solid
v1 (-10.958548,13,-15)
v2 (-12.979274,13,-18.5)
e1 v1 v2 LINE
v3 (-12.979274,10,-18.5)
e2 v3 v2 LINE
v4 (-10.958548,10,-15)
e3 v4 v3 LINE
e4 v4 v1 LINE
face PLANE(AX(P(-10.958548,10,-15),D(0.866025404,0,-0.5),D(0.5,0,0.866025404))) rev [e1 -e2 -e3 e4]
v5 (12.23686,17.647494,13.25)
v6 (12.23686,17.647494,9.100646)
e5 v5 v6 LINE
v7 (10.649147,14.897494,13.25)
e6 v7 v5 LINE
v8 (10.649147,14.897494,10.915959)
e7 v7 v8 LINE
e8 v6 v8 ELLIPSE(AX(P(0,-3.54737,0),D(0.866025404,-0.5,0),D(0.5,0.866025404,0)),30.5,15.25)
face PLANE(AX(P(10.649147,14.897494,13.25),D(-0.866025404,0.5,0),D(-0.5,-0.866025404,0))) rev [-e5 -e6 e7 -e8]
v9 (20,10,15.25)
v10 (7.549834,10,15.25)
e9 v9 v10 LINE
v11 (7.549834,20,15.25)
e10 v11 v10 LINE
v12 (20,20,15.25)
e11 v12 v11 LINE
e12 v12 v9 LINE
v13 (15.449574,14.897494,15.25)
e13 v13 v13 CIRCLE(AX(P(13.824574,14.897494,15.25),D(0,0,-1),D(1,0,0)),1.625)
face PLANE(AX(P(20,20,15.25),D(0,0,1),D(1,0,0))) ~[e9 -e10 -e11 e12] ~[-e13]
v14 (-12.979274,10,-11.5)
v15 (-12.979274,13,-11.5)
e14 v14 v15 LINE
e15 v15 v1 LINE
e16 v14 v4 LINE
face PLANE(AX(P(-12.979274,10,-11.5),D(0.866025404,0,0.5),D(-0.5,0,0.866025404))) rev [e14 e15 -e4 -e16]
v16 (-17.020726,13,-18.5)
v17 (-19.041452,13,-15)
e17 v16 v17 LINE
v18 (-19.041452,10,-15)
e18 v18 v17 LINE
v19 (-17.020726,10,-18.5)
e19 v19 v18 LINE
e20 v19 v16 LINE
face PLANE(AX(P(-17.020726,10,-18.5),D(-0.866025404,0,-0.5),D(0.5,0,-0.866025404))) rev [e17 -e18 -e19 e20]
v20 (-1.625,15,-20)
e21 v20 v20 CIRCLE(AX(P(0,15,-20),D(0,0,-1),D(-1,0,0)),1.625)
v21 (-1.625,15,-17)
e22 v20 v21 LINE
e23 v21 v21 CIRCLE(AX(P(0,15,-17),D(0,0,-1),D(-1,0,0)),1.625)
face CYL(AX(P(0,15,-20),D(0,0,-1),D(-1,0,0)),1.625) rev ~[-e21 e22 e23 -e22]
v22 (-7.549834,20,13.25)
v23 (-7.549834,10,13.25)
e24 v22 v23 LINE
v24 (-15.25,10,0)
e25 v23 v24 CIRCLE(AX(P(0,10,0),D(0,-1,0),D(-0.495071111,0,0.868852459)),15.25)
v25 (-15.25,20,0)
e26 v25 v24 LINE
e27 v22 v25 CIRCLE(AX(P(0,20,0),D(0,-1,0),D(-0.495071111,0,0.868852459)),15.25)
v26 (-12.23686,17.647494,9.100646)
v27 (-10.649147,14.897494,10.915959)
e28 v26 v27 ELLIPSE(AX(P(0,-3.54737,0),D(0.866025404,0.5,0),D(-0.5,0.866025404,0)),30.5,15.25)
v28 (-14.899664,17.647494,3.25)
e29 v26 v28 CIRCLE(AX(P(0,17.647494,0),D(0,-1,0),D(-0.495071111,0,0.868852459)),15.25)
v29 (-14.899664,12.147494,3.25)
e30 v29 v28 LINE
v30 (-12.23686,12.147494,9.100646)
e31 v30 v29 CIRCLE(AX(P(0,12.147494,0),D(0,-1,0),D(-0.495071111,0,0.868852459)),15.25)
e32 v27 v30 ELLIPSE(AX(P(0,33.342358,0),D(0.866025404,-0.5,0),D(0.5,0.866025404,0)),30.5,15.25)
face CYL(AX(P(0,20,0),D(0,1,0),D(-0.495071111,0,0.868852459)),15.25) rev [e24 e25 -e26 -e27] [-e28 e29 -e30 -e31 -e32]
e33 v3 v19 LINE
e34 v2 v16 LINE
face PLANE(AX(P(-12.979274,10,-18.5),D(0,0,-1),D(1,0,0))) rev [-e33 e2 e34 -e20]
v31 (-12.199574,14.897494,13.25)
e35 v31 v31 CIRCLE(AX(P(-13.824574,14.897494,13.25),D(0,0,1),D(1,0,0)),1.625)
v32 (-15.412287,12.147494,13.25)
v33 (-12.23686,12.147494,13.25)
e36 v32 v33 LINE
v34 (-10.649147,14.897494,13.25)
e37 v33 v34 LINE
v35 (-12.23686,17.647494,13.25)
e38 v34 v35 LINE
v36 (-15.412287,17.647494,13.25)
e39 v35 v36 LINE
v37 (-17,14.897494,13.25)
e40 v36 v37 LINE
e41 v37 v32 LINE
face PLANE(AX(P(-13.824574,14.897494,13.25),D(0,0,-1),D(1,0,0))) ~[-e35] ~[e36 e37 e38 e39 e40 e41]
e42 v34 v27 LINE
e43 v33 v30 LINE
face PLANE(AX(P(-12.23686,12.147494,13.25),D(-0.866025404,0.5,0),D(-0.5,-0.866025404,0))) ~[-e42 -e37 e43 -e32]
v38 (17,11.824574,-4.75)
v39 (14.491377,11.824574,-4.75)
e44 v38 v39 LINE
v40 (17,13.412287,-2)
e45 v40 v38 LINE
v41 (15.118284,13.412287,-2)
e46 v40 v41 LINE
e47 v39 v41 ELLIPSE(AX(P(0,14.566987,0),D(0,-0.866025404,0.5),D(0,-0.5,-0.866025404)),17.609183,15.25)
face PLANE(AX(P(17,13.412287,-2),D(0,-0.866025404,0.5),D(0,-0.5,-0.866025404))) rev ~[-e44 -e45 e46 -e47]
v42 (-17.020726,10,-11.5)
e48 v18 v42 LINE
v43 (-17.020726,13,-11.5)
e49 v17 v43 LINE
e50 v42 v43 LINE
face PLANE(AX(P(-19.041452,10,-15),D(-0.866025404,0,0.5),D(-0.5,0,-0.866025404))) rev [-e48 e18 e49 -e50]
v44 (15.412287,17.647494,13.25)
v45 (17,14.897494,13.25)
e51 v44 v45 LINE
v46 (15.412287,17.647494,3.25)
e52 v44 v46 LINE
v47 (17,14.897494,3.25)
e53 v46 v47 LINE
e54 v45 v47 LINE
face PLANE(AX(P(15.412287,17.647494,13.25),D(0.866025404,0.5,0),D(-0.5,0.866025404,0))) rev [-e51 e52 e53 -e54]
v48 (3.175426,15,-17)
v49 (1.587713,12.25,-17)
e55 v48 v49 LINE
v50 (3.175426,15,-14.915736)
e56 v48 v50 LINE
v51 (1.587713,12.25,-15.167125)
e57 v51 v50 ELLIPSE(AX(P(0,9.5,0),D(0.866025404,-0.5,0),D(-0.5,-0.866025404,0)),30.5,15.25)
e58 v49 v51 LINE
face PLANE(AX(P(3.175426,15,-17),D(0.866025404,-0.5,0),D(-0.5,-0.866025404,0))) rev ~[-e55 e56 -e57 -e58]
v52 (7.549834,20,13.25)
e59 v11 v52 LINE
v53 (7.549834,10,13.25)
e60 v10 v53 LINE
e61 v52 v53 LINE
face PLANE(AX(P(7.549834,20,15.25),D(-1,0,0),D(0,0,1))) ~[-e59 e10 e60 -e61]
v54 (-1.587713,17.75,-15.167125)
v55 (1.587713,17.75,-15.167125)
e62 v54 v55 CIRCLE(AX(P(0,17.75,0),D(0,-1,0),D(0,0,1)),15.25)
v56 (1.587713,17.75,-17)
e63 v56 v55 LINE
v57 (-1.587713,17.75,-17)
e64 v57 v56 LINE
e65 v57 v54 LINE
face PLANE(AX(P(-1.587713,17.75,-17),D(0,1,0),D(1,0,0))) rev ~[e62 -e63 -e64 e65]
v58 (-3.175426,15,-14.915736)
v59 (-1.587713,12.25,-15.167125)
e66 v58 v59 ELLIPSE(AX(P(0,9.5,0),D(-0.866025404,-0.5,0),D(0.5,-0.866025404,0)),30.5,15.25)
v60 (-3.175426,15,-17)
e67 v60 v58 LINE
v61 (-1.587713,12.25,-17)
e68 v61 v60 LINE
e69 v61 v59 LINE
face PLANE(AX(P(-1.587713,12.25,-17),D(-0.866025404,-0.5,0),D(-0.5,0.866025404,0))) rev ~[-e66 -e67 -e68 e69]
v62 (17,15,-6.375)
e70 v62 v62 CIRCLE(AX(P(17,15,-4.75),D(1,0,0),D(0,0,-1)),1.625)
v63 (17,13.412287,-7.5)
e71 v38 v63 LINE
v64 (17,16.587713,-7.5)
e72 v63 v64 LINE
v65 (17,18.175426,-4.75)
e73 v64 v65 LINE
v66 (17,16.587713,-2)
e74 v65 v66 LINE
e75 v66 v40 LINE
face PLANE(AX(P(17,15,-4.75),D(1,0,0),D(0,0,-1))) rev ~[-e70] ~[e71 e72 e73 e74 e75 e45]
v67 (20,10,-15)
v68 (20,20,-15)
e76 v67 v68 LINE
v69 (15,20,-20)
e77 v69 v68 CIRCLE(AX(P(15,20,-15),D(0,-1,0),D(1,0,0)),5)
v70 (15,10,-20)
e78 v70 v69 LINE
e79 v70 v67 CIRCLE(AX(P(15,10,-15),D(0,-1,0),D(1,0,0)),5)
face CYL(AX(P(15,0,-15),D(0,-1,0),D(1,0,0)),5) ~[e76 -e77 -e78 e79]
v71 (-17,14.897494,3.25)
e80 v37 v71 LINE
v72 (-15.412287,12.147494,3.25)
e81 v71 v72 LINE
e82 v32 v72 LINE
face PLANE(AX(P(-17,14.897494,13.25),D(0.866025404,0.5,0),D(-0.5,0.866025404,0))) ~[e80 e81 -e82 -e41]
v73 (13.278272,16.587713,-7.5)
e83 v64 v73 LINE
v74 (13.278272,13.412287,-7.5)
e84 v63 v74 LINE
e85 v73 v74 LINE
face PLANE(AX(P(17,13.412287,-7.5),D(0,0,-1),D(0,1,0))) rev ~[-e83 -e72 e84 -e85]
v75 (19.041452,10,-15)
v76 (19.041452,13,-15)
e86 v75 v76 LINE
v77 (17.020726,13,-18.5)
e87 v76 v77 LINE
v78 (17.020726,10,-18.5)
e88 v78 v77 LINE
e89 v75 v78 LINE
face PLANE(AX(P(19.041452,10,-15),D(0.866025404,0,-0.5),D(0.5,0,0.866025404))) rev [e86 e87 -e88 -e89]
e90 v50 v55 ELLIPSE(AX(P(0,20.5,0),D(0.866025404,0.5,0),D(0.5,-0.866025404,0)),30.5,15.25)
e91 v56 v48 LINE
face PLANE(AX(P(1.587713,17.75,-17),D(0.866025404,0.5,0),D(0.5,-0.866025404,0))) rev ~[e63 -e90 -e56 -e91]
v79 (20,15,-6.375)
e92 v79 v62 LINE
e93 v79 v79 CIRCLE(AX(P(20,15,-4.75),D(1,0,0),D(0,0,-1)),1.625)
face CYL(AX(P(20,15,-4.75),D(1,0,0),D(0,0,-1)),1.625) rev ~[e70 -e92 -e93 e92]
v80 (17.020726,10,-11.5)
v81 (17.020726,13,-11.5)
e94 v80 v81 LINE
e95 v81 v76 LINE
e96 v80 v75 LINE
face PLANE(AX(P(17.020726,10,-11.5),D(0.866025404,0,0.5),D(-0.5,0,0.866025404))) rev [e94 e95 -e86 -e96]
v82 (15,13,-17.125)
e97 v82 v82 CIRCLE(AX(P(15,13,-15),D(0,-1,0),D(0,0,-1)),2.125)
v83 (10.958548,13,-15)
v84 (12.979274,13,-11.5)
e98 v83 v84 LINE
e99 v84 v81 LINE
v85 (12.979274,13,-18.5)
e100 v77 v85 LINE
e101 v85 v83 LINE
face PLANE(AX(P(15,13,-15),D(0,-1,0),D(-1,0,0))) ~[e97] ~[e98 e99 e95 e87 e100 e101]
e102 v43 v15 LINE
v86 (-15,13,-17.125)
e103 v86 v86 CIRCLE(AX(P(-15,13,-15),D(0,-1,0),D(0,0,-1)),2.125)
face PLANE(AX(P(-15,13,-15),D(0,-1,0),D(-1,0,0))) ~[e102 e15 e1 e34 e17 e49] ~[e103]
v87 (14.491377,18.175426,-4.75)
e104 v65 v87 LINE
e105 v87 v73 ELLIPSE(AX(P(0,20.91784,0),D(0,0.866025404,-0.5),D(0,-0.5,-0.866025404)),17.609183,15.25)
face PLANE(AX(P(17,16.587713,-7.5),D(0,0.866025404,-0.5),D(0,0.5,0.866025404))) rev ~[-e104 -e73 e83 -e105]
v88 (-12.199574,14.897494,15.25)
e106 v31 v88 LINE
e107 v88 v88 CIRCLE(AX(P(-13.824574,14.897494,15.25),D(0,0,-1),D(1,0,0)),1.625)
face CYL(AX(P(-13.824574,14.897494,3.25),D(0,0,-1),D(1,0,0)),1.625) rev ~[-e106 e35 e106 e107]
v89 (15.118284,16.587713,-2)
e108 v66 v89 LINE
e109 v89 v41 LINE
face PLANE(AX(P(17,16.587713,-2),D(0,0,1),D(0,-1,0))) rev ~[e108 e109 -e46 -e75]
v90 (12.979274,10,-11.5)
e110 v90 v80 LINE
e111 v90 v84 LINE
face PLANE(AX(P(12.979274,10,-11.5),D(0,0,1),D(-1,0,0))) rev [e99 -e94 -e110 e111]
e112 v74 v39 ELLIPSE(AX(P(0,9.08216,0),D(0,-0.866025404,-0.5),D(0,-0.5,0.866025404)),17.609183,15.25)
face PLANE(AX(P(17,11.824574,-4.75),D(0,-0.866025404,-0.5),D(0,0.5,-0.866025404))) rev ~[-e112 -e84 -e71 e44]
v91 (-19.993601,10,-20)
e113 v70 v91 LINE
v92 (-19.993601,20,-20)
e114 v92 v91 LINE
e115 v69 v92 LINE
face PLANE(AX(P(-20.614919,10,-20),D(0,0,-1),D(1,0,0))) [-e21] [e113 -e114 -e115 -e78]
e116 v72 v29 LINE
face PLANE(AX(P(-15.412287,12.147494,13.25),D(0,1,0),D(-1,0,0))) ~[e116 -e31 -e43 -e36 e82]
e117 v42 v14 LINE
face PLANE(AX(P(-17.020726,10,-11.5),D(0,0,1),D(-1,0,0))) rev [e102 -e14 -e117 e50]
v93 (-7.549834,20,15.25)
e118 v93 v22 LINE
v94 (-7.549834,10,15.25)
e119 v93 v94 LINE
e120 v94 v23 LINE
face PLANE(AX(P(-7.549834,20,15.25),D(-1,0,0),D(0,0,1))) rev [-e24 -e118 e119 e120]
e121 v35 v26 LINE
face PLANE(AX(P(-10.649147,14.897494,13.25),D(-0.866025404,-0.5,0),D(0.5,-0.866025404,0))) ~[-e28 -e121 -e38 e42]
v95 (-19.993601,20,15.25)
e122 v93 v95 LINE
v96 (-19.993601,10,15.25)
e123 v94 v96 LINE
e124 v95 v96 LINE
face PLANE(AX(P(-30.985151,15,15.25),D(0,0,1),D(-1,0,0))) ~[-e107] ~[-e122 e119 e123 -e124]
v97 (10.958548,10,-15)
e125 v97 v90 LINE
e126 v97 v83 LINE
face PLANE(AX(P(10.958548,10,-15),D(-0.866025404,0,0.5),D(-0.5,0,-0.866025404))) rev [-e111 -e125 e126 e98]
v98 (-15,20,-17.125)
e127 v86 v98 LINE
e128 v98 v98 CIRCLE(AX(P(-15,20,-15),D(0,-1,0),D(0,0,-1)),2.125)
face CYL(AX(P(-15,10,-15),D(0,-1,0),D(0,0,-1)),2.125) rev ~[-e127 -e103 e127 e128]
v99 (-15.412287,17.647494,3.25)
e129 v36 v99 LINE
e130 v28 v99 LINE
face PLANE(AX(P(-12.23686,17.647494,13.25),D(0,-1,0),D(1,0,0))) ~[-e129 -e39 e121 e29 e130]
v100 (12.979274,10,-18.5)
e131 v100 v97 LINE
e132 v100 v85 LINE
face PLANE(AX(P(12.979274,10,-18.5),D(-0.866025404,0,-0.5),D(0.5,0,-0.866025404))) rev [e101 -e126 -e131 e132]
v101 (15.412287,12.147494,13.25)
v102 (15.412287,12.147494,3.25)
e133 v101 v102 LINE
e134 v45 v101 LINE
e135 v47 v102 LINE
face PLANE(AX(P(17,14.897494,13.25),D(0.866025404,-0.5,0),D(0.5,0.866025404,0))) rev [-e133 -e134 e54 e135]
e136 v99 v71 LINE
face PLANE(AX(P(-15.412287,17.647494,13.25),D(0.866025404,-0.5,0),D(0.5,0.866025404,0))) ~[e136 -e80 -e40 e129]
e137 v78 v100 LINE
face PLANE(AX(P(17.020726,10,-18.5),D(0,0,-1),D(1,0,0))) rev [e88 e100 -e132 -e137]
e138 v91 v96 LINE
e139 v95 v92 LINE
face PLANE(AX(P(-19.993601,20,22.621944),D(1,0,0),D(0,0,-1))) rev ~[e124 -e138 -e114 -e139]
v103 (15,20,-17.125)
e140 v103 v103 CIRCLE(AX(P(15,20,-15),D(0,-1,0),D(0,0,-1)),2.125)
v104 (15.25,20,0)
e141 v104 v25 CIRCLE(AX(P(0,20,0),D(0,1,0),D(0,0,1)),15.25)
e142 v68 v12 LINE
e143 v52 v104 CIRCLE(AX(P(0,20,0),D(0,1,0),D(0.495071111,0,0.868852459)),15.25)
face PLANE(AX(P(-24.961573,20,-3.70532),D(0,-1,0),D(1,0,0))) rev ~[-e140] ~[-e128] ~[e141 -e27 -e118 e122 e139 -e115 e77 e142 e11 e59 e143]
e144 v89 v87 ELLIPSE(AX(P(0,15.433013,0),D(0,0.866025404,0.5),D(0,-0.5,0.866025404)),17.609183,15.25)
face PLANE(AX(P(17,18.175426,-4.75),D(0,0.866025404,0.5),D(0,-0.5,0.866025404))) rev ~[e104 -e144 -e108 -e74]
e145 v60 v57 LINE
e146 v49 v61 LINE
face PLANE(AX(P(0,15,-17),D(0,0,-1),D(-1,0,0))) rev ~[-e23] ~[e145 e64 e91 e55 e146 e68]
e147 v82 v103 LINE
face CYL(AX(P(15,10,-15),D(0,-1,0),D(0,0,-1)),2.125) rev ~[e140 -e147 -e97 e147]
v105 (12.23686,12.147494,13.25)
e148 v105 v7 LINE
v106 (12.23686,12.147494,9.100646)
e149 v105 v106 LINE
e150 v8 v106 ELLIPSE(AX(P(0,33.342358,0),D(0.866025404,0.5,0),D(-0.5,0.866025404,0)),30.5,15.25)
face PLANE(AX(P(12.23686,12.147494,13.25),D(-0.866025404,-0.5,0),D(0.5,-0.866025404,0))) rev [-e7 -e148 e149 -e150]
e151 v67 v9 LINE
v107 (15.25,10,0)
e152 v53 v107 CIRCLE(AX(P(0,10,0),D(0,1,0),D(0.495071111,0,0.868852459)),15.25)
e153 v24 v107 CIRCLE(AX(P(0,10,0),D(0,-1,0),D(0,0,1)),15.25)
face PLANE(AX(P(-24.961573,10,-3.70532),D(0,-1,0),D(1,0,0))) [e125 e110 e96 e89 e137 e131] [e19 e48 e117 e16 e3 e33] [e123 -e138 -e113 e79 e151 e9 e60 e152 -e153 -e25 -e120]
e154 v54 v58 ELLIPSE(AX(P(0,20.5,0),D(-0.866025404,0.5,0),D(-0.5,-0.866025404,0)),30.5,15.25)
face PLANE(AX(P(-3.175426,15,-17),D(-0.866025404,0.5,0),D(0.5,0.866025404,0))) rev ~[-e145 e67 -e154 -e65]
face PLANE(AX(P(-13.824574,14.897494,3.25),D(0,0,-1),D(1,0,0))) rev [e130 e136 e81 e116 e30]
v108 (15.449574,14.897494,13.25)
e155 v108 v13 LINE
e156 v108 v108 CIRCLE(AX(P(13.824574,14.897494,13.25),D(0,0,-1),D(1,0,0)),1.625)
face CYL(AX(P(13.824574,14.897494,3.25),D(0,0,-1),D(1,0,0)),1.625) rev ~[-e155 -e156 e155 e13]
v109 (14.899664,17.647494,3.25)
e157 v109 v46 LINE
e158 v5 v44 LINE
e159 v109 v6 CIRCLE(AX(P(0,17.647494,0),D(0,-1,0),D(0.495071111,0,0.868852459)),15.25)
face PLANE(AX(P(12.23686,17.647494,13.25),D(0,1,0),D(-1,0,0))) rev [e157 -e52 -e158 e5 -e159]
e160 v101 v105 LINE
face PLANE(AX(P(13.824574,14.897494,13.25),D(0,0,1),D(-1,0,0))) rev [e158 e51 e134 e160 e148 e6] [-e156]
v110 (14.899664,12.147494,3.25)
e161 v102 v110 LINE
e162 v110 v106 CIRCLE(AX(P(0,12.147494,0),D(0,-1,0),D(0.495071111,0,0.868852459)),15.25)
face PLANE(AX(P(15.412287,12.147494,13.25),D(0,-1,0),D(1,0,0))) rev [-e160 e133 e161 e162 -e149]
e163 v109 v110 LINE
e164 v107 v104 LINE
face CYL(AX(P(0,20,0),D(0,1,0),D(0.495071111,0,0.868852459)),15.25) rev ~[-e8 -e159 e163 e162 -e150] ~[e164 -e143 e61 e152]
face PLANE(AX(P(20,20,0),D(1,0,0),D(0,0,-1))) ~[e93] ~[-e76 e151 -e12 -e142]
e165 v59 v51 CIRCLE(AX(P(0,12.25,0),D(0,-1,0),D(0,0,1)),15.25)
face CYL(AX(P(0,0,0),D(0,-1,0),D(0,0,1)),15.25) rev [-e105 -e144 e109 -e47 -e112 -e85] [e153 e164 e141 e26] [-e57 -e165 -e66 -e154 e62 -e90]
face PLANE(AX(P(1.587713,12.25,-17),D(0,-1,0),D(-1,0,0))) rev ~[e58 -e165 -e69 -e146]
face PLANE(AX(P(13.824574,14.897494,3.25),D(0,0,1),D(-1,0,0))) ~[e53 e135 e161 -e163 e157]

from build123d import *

# Parameters (mm, degrees)
CROQUIS1_R                              = 15.25
CROQUIS1_R_2                            = 2.125
SOPORTE_CAJA_REDUCTORA_DEPTH            = 20
CROQUIS3_R                              = 2.125
CORTAR_EXTRUIR1_DEPTH                   = 51.423828692
REDONDEO1_R                             = 5
BOSS_EXTRUDE1_DEPTH                     = 20
CUT_EXTRUDE1_REACH                      = 55.852
SKETCH2_R                               = 1.625
CUT_EXTRUDE2_DEPTH                      = 2
SKETCH4_R                               = 1.625
CUT_EXTRUDE3_DEPTH                      = 63.291652731
CUT_EXTRUDE4_START                      = -4.5
CUT_EXTRUDE4_DEPTH                      = 2
CROQUIS6_W                              = 4.75
CROQUIS6_H                              = 4.75
CORTAR_EXTRUIR17_DEPTH                  = 42.231056256
CROQUIS7_W                              = 60
CROQUIS7_H                              = 20
CORTAR_EXTRUIR18_DEPTH                  = 51.423828692
SALIENTE_EXTRUIR2_DEPTH                 = 49
SOPORTE_START                           = -15
SOPORTE_MOTOR_DEPTH                     = 15
CROQUIS12_R                             = 2.125
AGUJEROS_DE_SUJECION_A_BASE_DEPTH       = 84.087679592
TUERCA_START                            = -4
TUERCA_AGUJERO_DE_SUJECION_A_BASE_DEPTH = 10
SALIENTE_EXTRUIR4_DEPTH                 = 15
CORTAR_EXTRUIR19_DEPTH                  = 25
CROQUIS14_W                             = 50
CROQUIS14_H                             = 118
CORTAR_EXTRUIR22_DEPTH                  = 146.556045907
CROQUIS15_W                             = 10
CROQUIS15_H                             = 7
CORTAR_EXTRUIR23_DEPTH                  = 42.231056256
CORTAR_EXTRUIR24_DEPTH                  = 42.231056256
CROQUIS18_W                             = 40
CROQUIS18_H                             = 10
CORTAR_EXTRUIR25_DEPTH                  = 44.27311521
SALIENTE_EXTRUIR5_DEPTH                 = 10
CROQUIS20_R                             = 1
CORTAR_EXTRUIR26_DEPTH                  = 49.229270158
CORTAR_EXTRUIR27_REACH                  = 62.959
CORTAR_EXTRUIR27_END_RADIUS             = 15.25
CROQUIS21_R                             = 1.625
CROQUIS22_R                             = 2.125
CROQUIS22_R_2                           = 1
SALIENTE_EXTRUIR6_DEPTH                 = 10
CROQUIS23_R                             = 1.625
CORTAR_EXTRUIR28_DEPTH                  = 52.269508521
CORTAR_EXTRUIR29_START                  = -3
CORTAR_EXTRUIR29_DEPTH                  = 10
SALIENTE_EXTRUIR7_DEPTH                 = 10
CORTAR_EXTRUIR30_REACH                  = 72.235
CROQUIS27_R                             = 1.625
CORTAR_EXTRUIR31_REACH                  = 75.235
CORTAR_EXTRUIR31_START                  = -3
CORTAR_EXTRUIR32_REACH                  = 58.612
CROQUIS29_R                             = 1.625
CORTAR_EXTRUIR33_REACH                  = 61.112
CORTAR_EXTRUIR33_START                  = -2.5
CROQUIS35_W                             = 13.305418987
CROQUIS35_H                             = 6.826864192
CORTAR_EXTRUIR34_DEPTH                  = 63.931555098
CORTAR_EXTRUIR34_DEPTH_BACK             = 63.931555098
CORTAR_EXTRUIR35_START                  = -3
CORTAR_EXTRUIR35_DEPTH                  = 10
SALIENTE_EXTRUIR8_DEPTH                 = 10
SALIENTE_EXTRUIR9_DEPTH                 = 13
SALIENTE_EXTRUIR10_DEPTH                = 3
CROQUIS40_W                             = 106.583537839
CROQUIS40_H                             = 47.391515964
CORTAR_EXTRUIR36_DEPTH                  = 80.887064817
CORTAR_EXTRUIR36_DEPTH_BACK             = 80.887064817
CORTAR_EXTRUIR37_DEPTH                  = 67.2524009
CORTAR_EXTRUIR37_DEPTH_BACK             = 67.2524009
CORTAR_EXTRUIR38_DEPTH                  = 79.704784639
CORTAR_EXTRUIR38_DEPTH_BACK             = 79.704784639
SALIENTE_EXTRUIR11_DEPTH                = 10
CORTAR_EXTRUIR39_DEPTH                  = 63.9908649
CROQUIS45_W                             = 31.470301378
CROQUIS45_H                             = 10
CROQUIS45_R                             = 1.625
SALIENTE_EXTRUIR12_DEPTH                = 2.5
SALIENTE_EXTRUIR13_DEPTH                = 10
CORTAR_EXTRUIR40_START                  = -2
CROQUIS47_R                             = 1.625
CORTAR_EXTRUIR40_DEPTH                  = 10
CORTAR_EXTRUIR41_START                  = -12
CROQUIS48_R                             = 1.625
CORTAR_EXTRUIR41_DEPTH                  = 12
CORTAR_EXTRUIR42_DEPTH                  = 3
CROQUIS50_W                             = 80.415439526
CROQUIS50_H                             = 16.145703155
CORTAR_EXTRUIR43_DEPTH                  = 66.767385996
CORTAR_EXTRUIR43_DEPTH_BACK             = 66.767385996
CROQUIS51_R                             = 2.125
CORTAR_EXTRUIR44_DEPTH                  = 52.795622989
CORTAR_EXTRUIR44_DEPTH_BACK             = 52.795622989
CORTAR_EXTRUIR45_DEPTH                  = 52.795622989
CORTAR_EXTRUIR45_DEPTH_BACK             = 52.795622989
SALIENTE_EXTRUIR14_DEPTH                = 10
CORTAR_EXTRUIR46_START                  = -24.591895
CORTAR_EXTRUIR46_DEPTH                  = 17.091895
CROQUIS55_W                             = 24.668528906
CROQUIS55_H                             = 42.621944376
CORTAR_EXTRUIR47_DEPTH                  = 42.681058385
CORTAR_EXTRUIR47_DEPTH_BACK             = 42.681058385


with BuildPart() as part:
    # Croquis1 → Soporte caja reductora (new body)
    with BuildSketch(Plane(origin=(0, 0, 0), x_dir=(1, 0, 0), z_dir=(0, 1, 0))):
        Polygon((-30, -15.25), (-20, -15.25), (-20, -20), (20, -20), (20, -15.25), (30, -15.25), (30, -7.25), (20, -4.25), (20, 20), (-20, 20), (-20, -4.25), (-30, -7.25), align=None)
        with Locations(Location((0, 0, 0), (0, 0, 270))):
            Circle(CROQUIS1_R, mode=Mode.SUBTRACT)
        with Locations(Location((-15, 15, 0), (0, 0, 270))):
            Circle(CROQUIS1_R_2, mode=Mode.SUBTRACT)
        with Locations(Location((15, 15, 0), (0, 0, 270))):
            Circle(CROQUIS1_R_2, mode=Mode.SUBTRACT)
    extrude(amount=-SOPORTE_CAJA_REDUCTORA_DEPTH)

    # Croquis3 → Cortar-Extruir1 (cut, through all)
    with BuildSketch(Plane.XY.offset(15.25)):
        with Locations((-23.5, -10)):
            Circle(CROQUIS3_R)
        with Locations((23.5, -10)):
            Circle(CROQUIS3_R)
    extrude(amount=-CORTAR_EXTRUIR1_DEPTH, mode=Mode.SUBTRACT)

    # Redondeo1
    redondeo1_edges = [part.edges().sort_by_distance(p)[0] for p in [
        (-20, -10, -20),
        (20, -10, -20),
    ]]
    fillet(redondeo1_edges, radius=REDONDEO1_R)

    # Sketch1 → Boss-Extrude1 (add)
    with BuildSketch(Plane(origin=(0, 0, 0), x_dir=(1, 0, 0), z_dir=(0, 1, 0))):
        with BuildLine():
            Line((25.5, 15), (20, 15))
            ThreePointArc((20, 15), (18.535533906, 18.535533906), (15, 20))
            Line((15, 20), (30, 20))
            Line((30, 20), (30, 8))
            Line((30, 8), (25.5, 8))
            Line((25.5, 8), (25.5, 15))
        make_face()
    extrude(amount=-BOSS_EXTRUDE1_DEPTH)

    # Sketch2 → Cut-Extrude1 (cut, up to next)
    with BuildSketch(Plane(origin=(0, 0, -20), x_dir=(-1, 0, 0), z_dir=(0, 0, -1)), mode=Mode.PRIVATE) as cut_extrude1_sk1:
        with Locations((-22.75, -10)):
            Circle(SKETCH2_R)
    cut_extrude1_tool1 = extrude(cut_extrude1_sk1.sketch, amount=-CUT_EXTRUDE1_REACH, mode=Mode.PRIVATE) & part.part
    add(cut_extrude1_tool1.solids().sort_by_distance((22.75, -10, -20))[0], mode=Mode.SUBTRACT)

    # Sketch3 → Cut-Extrude2 (cut)
    with BuildSketch(Plane.XY.offset(-15)):
        Polygon((20, -11.58771324), (22.75, -13.175426481), (25.5, -11.58771324), (25.5, -8.41228676), (22.75, -6.824573519), (20, -8.41228676), align=None)
    extrude(amount=-CUT_EXTRUDE2_DEPTH, mode=Mode.SUBTRACT)

    # Sketch4 → Cut-Extrude3 (cut, through all)
    with BuildSketch(Plane.ZY.offset(-25.5)):
        with Locations((-12.25, -10)):
            Circle(SKETCH4_R)
    extrude(amount=-CUT_EXTRUDE3_DEPTH, mode=Mode.SUBTRACT)

    # Sketch5 → Cut-Extrude4 (cut)
    with BuildSketch(Plane(origin=(30, 0, 0), x_dir=(0, 0, -1), z_dir=(1, 0, 0)).offset(CUT_EXTRUDE4_START)):
        Polygon((15, -11.58771324), (15, -8.41228676), (12.25, -6.824573519), (9.5, -8.41228676), (9.5, -11.58771324), (12.25, -13.175426481), align=None)
    extrude(amount=CUT_EXTRUDE4_DEPTH, mode=Mode.SUBTRACT)

    # Croquis6 → Cortar-Extruir17 (cut, through all)
    with BuildSketch(Plane(origin=(0, 0, 0), x_dir=(1, 0, 0), z_dir=(0, 1, 0))):
        Polygon((0, -15.25), (-15.25, -15.25), (-15.25, -20), (15.25, -20), (15.25, -15.25), align=None)
        with Locations((-17.625, -17.625)):
            Rectangle(CROQUIS6_W, CROQUIS6_H)
        with BuildLine():
            ThreePointArc((0, -15.25), (-10.783378413, -10.783378413), (-15.25, 0))
            Line((-15.25, 0), (-15.25, -15.25))
            Line((-15.25, -15.25), (0, -15.25))
        make_face()
        with BuildLine():
            Line((15.25, -15.25), (15.25, 0))
            ThreePointArc((15.25, 0), (10.783378413, -10.783378413), (0, -15.25))
            Line((0, -15.25), (15.25, -15.25))
        make_face()
        with Locations((17.625, -17.625)):
            Rectangle(CROQUIS6_W, CROQUIS6_H)
    extrude(amount=-CORTAR_EXTRUIR17_DEPTH, mode=Mode.SUBTRACT)


with BuildPart() as body_2:
    # Simetría1: mirrored copy
    add(part.part.mirror(Plane.ZX))

    # Croquis8 → Saliente-Extruir2 (add)
    with BuildSketch(Plane(origin=(0, 20, 0), x_dir=(1, 0, 0), z_dir=(0, 1, 0))):
        with BuildLine():
            Line((-12.664515522, 20), (-11.040489496, 13.939052358))
            Line((-11.040489496, 13.939052358), (-10.315162126, 11.232093763))
            ThreePointArc((-10.315162126, 11.232093763), (0, 15.25), (10.315162126, 11.232093763))
            Line((10.315162126, 11.232093763), (10.817418481, 13.87928066))
            Line((10.817418481, 13.87928066), (11.978715476, 20))
            Line((11.978715476, 20), (-12.664515522, 20))
        make_face()
    extrude(amount=SALIENTE_EXTRUIR2_DEPTH)

    # Croquis9 → Soporte motor (add)
    with BuildSketch(Plane(origin=(0, 69, 0), x_dir=(1, 0, 0), z_dir=(0, 1, 0)).offset(SOPORTE_START)):
        with BuildLine():
            Line((-20, 15), (-20, -4.25))
            Line((-20, -4.25), (-30, -7.25))
            Line((-30, -7.25), (-30, -15.25))
            Line((-30, -15.25), (0, -15.25))
            Line((0, -15.25), (0, -14.75))
            ThreePointArc((0, -14.75), (-10.429825023, 10.429825023), (14.75, 0))
            Line((14.75, 0), (20, 0))
            Line((20, 0), (20, 13.936837101))
            Line((20, 13.936837101), (12.664515522, 20))
            Line((12.664515522, 20), (-15, 20))
            ThreePointArc((-15, 20), (-18.535533906, 18.535533906), (-20, 15))
        make_face()
    extrude(amount=-SOPORTE_MOTOR_DEPTH)

    # Croquis12 → Agujeros de sujecion a base (cut, through all)
    with BuildSketch(Plane.XY.offset(15.25)):
        with Locations((-23.5, 46.5)):
            Circle(CROQUIS12_R)
    extrude(amount=-AGUJEROS_DE_SUJECION_A_BASE_DEPTH, mode=Mode.SUBTRACT)

    # Croquis13 → Tuerca Agujero de sujecion a base (cut)
    with BuildSketch(Plane.XY.offset(15.25).offset(TUERCA_START)):
        Polygon((-20, 44.479274058), (-20, 48.520725942), (-23.5, 50.541451884), (-27, 48.520725942), (-27, 44.479274058), (-23.5, 42.458548116), align=None)
    extrude(amount=-TUERCA_AGUJERO_DE_SUJECION_A_BASE_DEPTH, mode=Mode.SUBTRACT)

    # Croquis10 → Saliente-Extruir4 (add)
    with BuildSketch(Plane(origin=(0, 69, 0), x_dir=(1, 0, 0), z_dir=(0, 1, 0))):
        with BuildLine():
            ThreePointArc((10.315162126, 11.232093763), (0, 15.25), (-10.315162126, 11.232093763))
            Line((-10.315162126, 11.232093763), (-10.16850369, 10.684757026))
            ThreePointArc((-10.16850369, 10.684757026), (0, 14.75), (10.16850369, 10.684757026))
            Line((10.16850369, 10.684757026), (10.315162126, 11.232093763))
        make_face()
    extrude(amount=-SALIENTE_EXTRUIR4_DEPTH)

    # Croquis11 → Cortar-Extruir19 (cut)
    with BuildSketch(Plane.XZ):
        with BuildLine():
            Line((15.25, 4.25), (20, 4.25))
            Line((20, 4.25), (21.972856468, 4.84185694))
            ThreePointArc((21.972856468, 4.84185694), (19.948931102, 10.40625523), (16.543503257, 15.25))
            Line((16.543503257, 15.25), (15.25, 15.25))
            Line((15.25, 15.25), (15.25, 4.25))
        make_face()
        with BuildLine():
            Line((21.972856468, 4.84185694), (30, 7.25))
            Line((30, 7.25), (30, 15.25))
            Line((30, 15.25), (16.543503257, 15.25))
            ThreePointArc((16.543503257, 15.25), (19.948931102, 10.40625523), (21.972856468, 4.84185694))
        make_face()
        with BuildLine():
            ThreePointArc((20, -15), (18.535533906, -18.535533906), (15, -20))
            Line((15, -20), (30, -20))
            Line((30, -20), (30, -8))
            Line((30, -8), (25.5, -8))
            Line((25.5, -8), (25.5, -15))
            Line((25.5, -15), (20, -15))
        make_face()
    extrude(amount=-CORTAR_EXTRUIR19_DEPTH, mode=Mode.SUBTRACT)

    # Simetría2: body 2 across face


with BuildPart() as part_1:
    add(part.part)

    # Croquis7 → Cortar-Extruir18 (cut, through all)
    with BuildSketch(Plane(origin=(0, 0, -20), x_dir=(-1, 0, 0), z_dir=(0, 0, -1))):
        with Locations((0, -10)):
            Rectangle(CROQUIS7_W, CROQUIS7_H)
    extrude(amount=-CORTAR_EXTRUIR18_DEPTH, mode=Mode.SUBTRACT)


with BuildPart() as body_2_1:
    add(body_2.part)
    add(body_2.part.mirror(Plane(origin=(-0.229209569, 69, -16.663998028), x_dir=(0, 0, 1), z_dir=(0, 1, 0))))

    # Croquis14 → Cortar-Extruir22 (cut, through all)
    with BuildSketch(Plane.XY.offset(15.25)):
        with Locations((-5, 79)):
            Rectangle(CROQUIS14_W, CROQUIS14_H)
    extrude(amount=-CORTAR_EXTRUIR22_DEPTH, mode=Mode.SUBTRACT)

    # Croquis15 → Cortar-Extruir23 (cut, through all)
    with BuildSketch(Plane.XZ):
        with Locations((-25, 7.75)):
            Rectangle(CROQUIS15_W, CROQUIS15_H)
    extrude(amount=-CORTAR_EXTRUIR23_DEPTH, mode=Mode.SUBTRACT)

    # Croquis16 → Cortar-Extruir24 (cut, through all)
    with BuildSketch(Plane.XZ):
        Polygon((-30, 15.25), (-15.25, 15.25), (-15.25, 12.75), (-20, 12.75), (-20, 11.25), (-30, 11.25), (-30, 12.75), align=None)
    extrude(amount=-CORTAR_EXTRUIR24_DEPTH, mode=Mode.SUBTRACT)

    # Croquis18 → Cortar-Extruir25 (cut, through all)
    with BuildSketch(Plane(origin=(0, 0, -20), x_dir=(-1, 0, 0), z_dir=(0, 0, -1))):
        with Locations((0, 5)):
            Rectangle(CROQUIS18_W, CROQUIS18_H)
    extrude(amount=-CORTAR_EXTRUIR25_DEPTH, mode=Mode.SUBTRACT)

    # Croquis19 → Saliente-Extruir5 (add)
    with BuildSketch(Plane(origin=(0, 20, 0), x_dir=(1, 0, 0), z_dir=(0, 1, 0))):
        Polygon((-20, -12.75), (-34, -12.75), (-34, -7.75), (-24, -7.75), (-20, -3.75), align=None)
    extrude(amount=-SALIENTE_EXTRUIR5_DEPTH)

    # Croquis20 → Cortar-Extruir26 (cut, through all)
    with BuildSketch(Plane(origin=(0, 0, 7.75), x_dir=(-1, 0, 0), z_dir=(0, 0, -1))):
        with Locations((29, 15)):
            Circle(CROQUIS20_R)
    extrude(amount=-CORTAR_EXTRUIR26_DEPTH, mode=Mode.SUBTRACT)

    # Cortar-Extruir27: up to this cylinder (the profile starts outside it)
    cortar_extruir27_end = Plane(origin=(0, 15, 0), z_dir=(0, -1, 0)) * Cylinder(CORTAR_EXTRUIR27_END_RADIUS, 157.418, mode=Mode.PRIVATE)
    # Croquis21 → Cortar-Extruir27 (cut, up to the surface)
    with BuildSketch(Plane(origin=(20, 0, 0), x_dir=(0, 0, -1), z_dir=(1, 0, 0)), mode=Mode.PRIVATE) as cortar_extruir27_sk1:
        with Locations((4.75, 15)):
            Circle(CROQUIS21_R)
    cortar_extruir27_tool1 = extrude(cortar_extruir27_sk1.sketch, amount=-CORTAR_EXTRUIR27_REACH, mode=Mode.PRIVATE) - cortar_extruir27_end
    add(cortar_extruir27_tool1.solids().sort_by_distance((20, 15, -4.75))[0], mode=Mode.SUBTRACT)

    # Croquis22 → Saliente-Extruir6 (add)
    with BuildSketch(Plane.XZ.offset(-10)):
        with Locations((-15, -15)):
            Circle(CROQUIS22_R)
        with Locations(Location((-15, -15, 0), (0, 0, 270))):
            Circle(CROQUIS22_R_2, mode=Mode.SUBTRACT)
        with Locations((15, -15)):
            Circle(CROQUIS22_R)
        with Locations(Location((15, -15, 0), (0, 0, 270))):
            Circle(CROQUIS22_R_2, mode=Mode.SUBTRACT)
    extrude(amount=-SALIENTE_EXTRUIR6_DEPTH)

    # Croquis23 → Cortar-Extruir28 (cut, through all)
    with BuildSketch(Plane(origin=(0, 0, -20), x_dir=(-1, 0, 0), z_dir=(0, 0, -1))):
        with Locations((0, 15)):
            Circle(CROQUIS23_R)
    extrude(amount=-CORTAR_EXTRUIR28_DEPTH, mode=Mode.SUBTRACT)

    # Croquis24 → Cortar-Extruir29 (cut)
    with BuildSketch(Plane(origin=(0, 0, -20), x_dir=(-1, 0, 0), z_dir=(0, 0, -1)).offset(CORTAR_EXTRUIR29_START)):
        Polygon((1.58771324, 12.25), (3.175426481, 15), (1.58771324, 17.75), (-1.58771324, 17.75), (-3.175426481, 15), (-1.58771324, 12.25), align=None)
    extrude(amount=-CORTAR_EXTRUIR29_DEPTH, mode=Mode.SUBTRACT)

    # Croquis26 → Saliente-Extruir7 (add)
    with BuildSketch(Plane.XZ.offset(-10)):
        Polygon((-34, 7.75), (-34, 12.75), (-58.825, 12.75), (-39.160527763, -4.104491148), (-20, -4.104491148), (-20, -0.104491148), (-35.732113118, -0.104491148), (-29, 7.75), align=None)
        Polygon((-34.268209086, 7.75), (-39.594516123, 1.535690951), (-46.844874897, 7.75), align=None, mode=Mode.SUBTRACT)
    extrude(amount=-SALIENTE_EXTRUIR7_DEPTH)

    # Croquis27 → Cortar-Extruir30 (cut, up to next)
    with BuildSketch(Plane.XY.offset(12.75), mode=Mode.PRIVATE) as cortar_extruir30_sk1:
        with Locations((-40.544874897, 15)):
            Circle(CROQUIS27_R)
    cortar_extruir30_tool1 = extrude(cortar_extruir30_sk1.sketch, amount=-CORTAR_EXTRUIR30_REACH, mode=Mode.PRIVATE) & body_2_1.part
    # Croquis27 → Cortar-Extruir30 (cut, up to next)
    with BuildSketch(Plane.XY.offset(12.75), mode=Mode.PRIVATE) as cortar_extruir30_sk2:
        with Locations((-29, 15)):
            Circle(CROQUIS27_R)
    cortar_extruir30_tool2 = extrude(cortar_extruir30_sk2.sketch, amount=-CORTAR_EXTRUIR30_REACH, mode=Mode.PRIVATE) & body_2_1.part
    add(cortar_extruir30_tool1.solids().sort_by_distance((-40.544875, 15, 12.75))[0], mode=Mode.SUBTRACT)
    add(cortar_extruir30_tool2.solids().sort_by_distance((-29, 15, 12.75))[0], mode=Mode.SUBTRACT)

    # Croquis28 → Cortar-Extruir31 (cut, up to next)
    with BuildSketch(Plane.XY.offset(12.75).offset(CORTAR_EXTRUIR31_START), mode=Mode.PRIVATE) as cortar_extruir31_sk1:
        Polygon((-38.957161657, 12.25), (-37.369448416, 15), (-38.957161657, 17.75), (-42.132588137, 17.75), (-43.720301378, 15), (-42.132588137, 12.25), align=None)
    cortar_extruir31_tool1 = extrude(cortar_extruir31_sk1.sketch, amount=-CORTAR_EXTRUIR31_REACH, mode=Mode.PRIVATE) & body_2_1.part
    # Croquis28 → Cortar-Extruir31 (cut, up to next)
    with BuildSketch(Plane.XY.offset(12.75).offset(CORTAR_EXTRUIR31_START), mode=Mode.PRIVATE) as cortar_extruir31_sk2:
        Polygon((-27.41228676, 12.25), (-25.824573519, 15), (-27.41228676, 17.75), (-30.58771324, 17.75), (-32.175426481, 15), (-30.58771324, 12.25), align=None)
    cortar_extruir31_tool2 = extrude(cortar_extruir31_sk2.sketch, amount=-CORTAR_EXTRUIR31_REACH, mode=Mode.PRIVATE) & body_2_1.part
    add(cortar_extruir31_tool1.solids().sort_by_distance((-40.544875, 15, 9.75))[0], mode=Mode.SUBTRACT)
    add(cortar_extruir31_tool2.solids().sort_by_distance((-29, 15, 9.75))[0], mode=Mode.SUBTRACT)

    # Croquis29 → Cortar-Extruir32 (cut, up to next)
    with BuildSketch(Plane(origin=(-18.612848159, 0, -21.715982563), x_dir=(-0.7592713073348843, 0, 0.6507742172658468), z_dir=(-0.6507742172658468, 0, -0.7592713073348843)), mode=Mode.PRIVATE) as cortar_extruir32_sk1:
        with Locations((33.812368097, 15)):
            Circle(CROQUIS29_R)
    cortar_extruir32_tool1 = extrude(cortar_extruir32_sk1.sketch, amount=-CORTAR_EXTRUIR32_REACH, mode=Mode.PRIVATE) & body_2_1.part
    add(cortar_extruir32_tool1.solids().sort_by_distance((-44.285609, 15, 0.288235))[0], mode=Mode.SUBTRACT)

    # Croquis31 → Cortar-Extruir33 (cut, up to next)
    with BuildSketch(Plane(origin=(-18.612848159, 0, -21.715982563), x_dir=(-0.7592713073348843, 0, 0.6507742172658468), z_dir=(-0.6507742172658468, 0, -0.7592713073348843)).offset(CORTAR_EXTRUIR33_START), mode=Mode.PRIVATE) as cortar_extruir33_sk1:
        Polygon((36.562368097, 16.58771324), (33.812368097, 18.175426481), (31.062368097, 16.58771324), (31.062368097, 13.41228676), (33.812368097, 11.824573519), (36.562368097, 13.41228676), align=None)
    cortar_extruir33_tool1 = extrude(cortar_extruir33_sk1.sketch, amount=-CORTAR_EXTRUIR33_REACH, mode=Mode.PRIVATE) & body_2_1.part
    add(cortar_extruir33_tool1.solids().sort_by_distance((-42.658674, 15, 2.186413))[0], mode=Mode.SUBTRACT)

    # Croquis35 → Cortar-Extruir34 (cut, two sides)
    with BuildSketch(Plane(origin=(0, 20, 0), x_dir=(1, 0, 0), z_dir=(0, 1, 0))) as cortar_extruir34_sk:
        with Locations((17.04227466, -3.413432096)):
            Rectangle(CROQUIS35_W, CROQUIS35_H)
    extrude(amount=CORTAR_EXTRUIR34_DEPTH, mode=Mode.SUBTRACT)
    extrude(cortar_extruir34_sk.sketch, amount=-CORTAR_EXTRUIR34_DEPTH_BACK, mode=Mode.SUBTRACT)

    # Croquis36 → Cortar-Extruir35 (cut)
    with BuildSketch(Plane(origin=(20, 0, 0), x_dir=(0, 0, -1), z_dir=(1, 0, 0)).offset(CORTAR_EXTRUIR35_START)):
        Polygon((7.5, 16.58771324), (4.75, 18.175426481), (2, 16.58771324), (2, 13.41228676), (4.75, 11.824573519), (7.5, 13.41228676), align=None)
    extrude(amount=-CORTAR_EXTRUIR35_DEPTH, mode=Mode.SUBTRACT)

    # Croquis37 → Saliente-Extruir8 (add)
    with BuildSketch(Plane.XZ.offset(-10)):
        Polygon((-39.160527763, -4.104491148), (-20.614919368, -20), (-15, -20), (-19.558128305, -15.637570403), (-33.014002756, -4.104491148), align=None)
    extrude(amount=-SALIENTE_EXTRUIR8_DEPTH)

    # Croquis38 → Saliente-Extruir9 (add)
    with BuildSketch(Plane.XZ.offset(-10)):
        Polygon((-58.825, 12.75), (-38.825, 12.75), (-38.825, 9.75), (-55.324839942, 9.75), align=None)
    extrude(amount=SALIENTE_EXTRUIR9_DEPTH)

    # Croquis39 → Saliente-Extruir10 (add)
    with BuildSketch(Plane.XZ.offset(-10)):
        Polygon((-38.825, 9.75), (-38.825, 7.75), (-38.825, 5.75), (-50.657959865, 5.75), (-52.991399903, 7.75), (-55.324839942, 9.75), align=None)
    extrude(amount=SALIENTE_EXTRUIR10_DEPTH)

    # Simetría3: body 2 across face


with BuildPart() as body_2_2:
    add(body_2_1.part)
    add(body_2_1.part.mirror(Plane(origin=(-18.003999227, 20, -4.220503046), x_dir=(0, 0, 1), z_dir=(0, 1, 0))))

    # Croquis40 → Cortar-Extruir36 (cut, two sides)
    with BuildSketch(Plane(origin=(0, 0, -20), x_dir=(-1, 0, 0), z_dir=(0, 0, -1))) as cortar_extruir36_sk:
        with Locations((22.395502026, -3.695757982)):
            Rectangle(CROQUIS40_W, CROQUIS40_H)
    extrude(amount=CORTAR_EXTRUIR36_DEPTH, mode=Mode.SUBTRACT)
    extrude(cortar_extruir36_sk.sketch, amount=-CORTAR_EXTRUIR36_DEPTH_BACK, mode=Mode.SUBTRACT)

    # Croquis41 → Cortar-Extruir37 (cut, two sides)
    with BuildSketch(Plane.XZ.offset(-20)) as cortar_extruir37_sk:
        Polygon((-19.992980133, -22.302484261), (-20, 3.75), (-24, 7.75), (-56.035110209, 7.75), align=None)
    extrude(amount=CORTAR_EXTRUIR37_DEPTH, mode=Mode.SUBTRACT)
    extrude(cortar_extruir37_sk.sketch, amount=-CORTAR_EXTRUIR37_DEPTH_BACK, mode=Mode.SUBTRACT)

    # Croquis42 → Cortar-Extruir38 (cut, two sides)
    with BuildSketch(Plane(origin=(0, 0, 9.75), x_dir=(-1, 0, 0), z_dir=(0, 0, -1))) as cortar_extruir38_sk:
        Polygon((46.720301378, 20), (46.720301378, 30), (38.825, 30), (33.492952769, 43.760628779), (49.525340398, 48.951442806), (67.200390695, 42.512205152), (65.906601328, 20), (51.713995885, 13.864168239), align=None)
    extrude(amount=CORTAR_EXTRUIR38_DEPTH, mode=Mode.SUBTRACT)
    extrude(cortar_extruir38_sk.sketch, amount=-CORTAR_EXTRUIR38_DEPTH_BACK, mode=Mode.SUBTRACT)

    # Croquis43 → Saliente-Extruir11 (add)
    with BuildSketch(Plane.XZ.offset(-20)):
        Polygon((-19.993600539, -20), (-46.720301378, 7.75), (-43.839252857, 10.524807997), (-17.112552018, -17.225192003), align=None)
    extrude(amount=-SALIENTE_EXTRUIR11_DEPTH)

    # Croquis44 → Cortar-Extruir39 (cut, through all)
    with BuildSketch(Plane(origin=(0, 0, 9.75), x_dir=(-1, 0, 0), z_dir=(0, 0, -1))):
        Polygon((38.957161657, 27.75), (37.369448416, 25), (38.957161657, 22.25), (42.132588137, 22.25), (43.720301378, 25), (42.132588137, 27.75), align=None)
    extrude(amount=CORTAR_EXTRUIR39_DEPTH, mode=Mode.SUBTRACT)

    # Croquis45 → Saliente-Extruir12 (add)
    with BuildSketch(Plane.XY.offset(12.75)):
        with Locations((-30.985150689, 25)):
            Rectangle(CROQUIS45_W, CROQUIS45_H)
        with Locations((-40.544874897, 25)):
            Circle(CROQUIS45_R, mode=Mode.SUBTRACT)
        with Locations((-29, 25)):
            Circle(CROQUIS45_R, mode=Mode.SUBTRACT)
    extrude(amount=SALIENTE_EXTRUIR12_DEPTH)

    # Croquis46 → Saliente-Extruir13 (add)
    with BuildSketch(Plane.XZ.offset(-20)):
        with BuildLine():
            Line((15.25, 0), (20, 0))
            Line((20, 0), (20, 15.25))
            Line((20, 15.25), (7.549834435, 15.25))
            Line((7.549834435, 15.25), (7.549834435, 13.25))
            ThreePointArc((7.549834435, 13.25), (13.185171124, 7.662490615), (15.25, 0))
        make_face()
        with BuildLine():
            Line((-15.25, 0), (-15.25, 15.25))
            Line((-15.25, 15.25), (-7.549834435, 15.25))
            Line((-7.549834435, 15.25), (-7.549834435, 13.25))
            ThreePointArc((-7.549834435, 13.25), (-13.185171124, 7.662490615), (-15.25, 0))
        make_face()
    extrude(amount=-SALIENTE_EXTRUIR13_DEPTH)

    # Croquis47 → Cortar-Extruir40 (cut)
    with BuildSketch(Plane.XY.offset(15.25).offset(CORTAR_EXTRUIR40_START)):
        Polygon((15.41228676, 22.352505966), (17, 25.102505966), (15.41228676, 27.852505966), (12.236860279, 27.852505966), (10.649147039, 25.102505966), (12.236860279, 22.352505966), align=None)
        with Locations((13.824573519, 25.102505966)):
            Circle(CROQUIS47_R, mode=Mode.SUBTRACT)
        Polygon((-12.236860279, 22.352505966), (-15.41228676, 22.352505966), (-17, 25.102505966), (-15.41228676, 27.852505966), (-12.236860279, 27.852505966), (-10.649147039, 25.102505966), align=None)
        with Locations(Location((-13.824573519, 25.102505966, 0), (0, 0, 131.421584744))):
            Circle(CROQUIS47_R, mode=Mode.SUBTRACT)
    extrude(amount=-CORTAR_EXTRUIR40_DEPTH, mode=Mode.SUBTRACT)

    # Croquis48 → Cortar-Extruir41 (cut)
    with BuildSketch(Plane.XY.offset(15.25).offset(CORTAR_EXTRUIR41_START)):
        with Locations((13.824573519, 25.102505966)):
            Circle(CROQUIS48_R)
        with Locations((-13.824573519, 25.102505966)):
            Circle(CROQUIS48_R)
    extrude(amount=CORTAR_EXTRUIR41_DEPTH, mode=Mode.SUBTRACT)

    # Croquis49 → Cortar-Extruir42 (cut)
    with BuildSketch(Plane(origin=(0, 30, 0), x_dir=(1, 0, 0), z_dir=(0, 1, 0))):
        Polygon((-12.979274058, 11.5), (-10.958548116, 15), (-12.979274058, 18.5), (-17.020725942, 18.5), (-19.041451884, 15), (-17.020725942, 11.5), align=None)
        Polygon((17.020725942, 11.5), (19.041451884, 15), (17.020725942, 18.5), (12.979274058, 18.5), (10.958548116, 15), (12.979274058, 11.5), align=None)
    extrude(amount=-CORTAR_EXTRUIR42_DEPTH, mode=Mode.SUBTRACT)

    # Simetría4: body 2 across plane


with BuildPart() as body_2_3:
    add(body_2_2.part)
    add(body_2_2.part.mirror(Plane(origin=(30.896266894, 20, 12.75), x_dir=(0, 0, 1), z_dir=(0, 1, 0))))

    # Croquis50 → Cortar-Extruir43 (cut, two sides)
    with BuildSketch(Plane(origin=(0, 0, -20), x_dir=(-1, 0, 0), z_dir=(0, 0, -1))) as cortar_extruir43_sk:
        with Locations((12.268612219, 28.072851577)):
            Rectangle(CROQUIS50_W, CROQUIS50_H)
    extrude(amount=CORTAR_EXTRUIR43_DEPTH, mode=Mode.SUBTRACT)
    extrude(cortar_extruir43_sk.sketch, amount=-CORTAR_EXTRUIR43_DEPTH_BACK, mode=Mode.SUBTRACT)

    # Croquis51 → Cortar-Extruir44 (cut, two sides)
    with BuildSketch(Plane.XZ.offset(-10)) as cortar_extruir44_sk:
        with Locations(Location((-15, -15, 0), (0, 0, 270))):
            Circle(CROQUIS51_R)
        with Locations(Location((15, -15, 0), (0, 0, 270))):
            Circle(CROQUIS51_R)
    extrude(amount=CORTAR_EXTRUIR44_DEPTH, mode=Mode.SUBTRACT)
    extrude(cortar_extruir44_sk.sketch, amount=-CORTAR_EXTRUIR44_DEPTH_BACK, mode=Mode.SUBTRACT)

    # Croquis52 → Cortar-Extruir45 (cut, two sides)
    with BuildSketch(Plane.XZ.offset(-10)) as cortar_extruir45_sk:
        Polygon((-35.175426481, 15.25), (-35.175426481, 7.75), (-19.995154673, -14.232221634), (-19.993600539, -20), (-54.542897094, 5.516026969), (-50.455586096, 20.949060485), align=None)
    extrude(amount=CORTAR_EXTRUIR45_DEPTH, mode=Mode.SUBTRACT)
    extrude(cortar_extruir45_sk.sketch, amount=-CORTAR_EXTRUIR45_DEPTH_BACK, mode=Mode.SUBTRACT)

    # Croquis53 → Saliente-Extruir14 (add)
    with BuildSketch(Plane.XZ.offset(-10)):
        Polygon((-35.175426481, 7.75), (-19.993600539, -20), (-20, 3.75), (-24, 7.75), align=None)
    extrude(amount=-SALIENTE_EXTRUIR14_DEPTH)

    # Croquis54 → Cortar-Extruir46 (cut)
    with BuildSketch(Plane.XY.offset(15.25).offset(CORTAR_EXTRUIR46_START)):
        Polygon((-27.41228676, 17.75), (-30.58771324, 17.75), (-32.175426481, 15), (-30.58771324, 12.25), (-27.41228676, 12.25), (-25.824573519, 15), align=None)
    extrude(amount=CORTAR_EXTRUIR46_DEPTH, mode=Mode.SUBTRACT)

    # Croquis55 → Cortar-Extruir47 (cut, two sides)
    with BuildSketch(Plane(origin=(0, 20, 0), x_dir=(1, 0, 0), z_dir=(0, 1, 0))) as cortar_extruir47_sk:
        with Locations((-32.327864992, -1.310972188)):
            Rectangle(CROQUIS55_W, CROQUIS55_H)
    extrude(amount=CORTAR_EXTRUIR47_DEPTH, mode=Mode.SUBTRACT)
    extrude(cortar_extruir47_sk.sketch, amount=-CORTAR_EXTRUIR47_DEPTH_BACK, mode=Mode.SUBTRACT)


solid = body_2_3.part
